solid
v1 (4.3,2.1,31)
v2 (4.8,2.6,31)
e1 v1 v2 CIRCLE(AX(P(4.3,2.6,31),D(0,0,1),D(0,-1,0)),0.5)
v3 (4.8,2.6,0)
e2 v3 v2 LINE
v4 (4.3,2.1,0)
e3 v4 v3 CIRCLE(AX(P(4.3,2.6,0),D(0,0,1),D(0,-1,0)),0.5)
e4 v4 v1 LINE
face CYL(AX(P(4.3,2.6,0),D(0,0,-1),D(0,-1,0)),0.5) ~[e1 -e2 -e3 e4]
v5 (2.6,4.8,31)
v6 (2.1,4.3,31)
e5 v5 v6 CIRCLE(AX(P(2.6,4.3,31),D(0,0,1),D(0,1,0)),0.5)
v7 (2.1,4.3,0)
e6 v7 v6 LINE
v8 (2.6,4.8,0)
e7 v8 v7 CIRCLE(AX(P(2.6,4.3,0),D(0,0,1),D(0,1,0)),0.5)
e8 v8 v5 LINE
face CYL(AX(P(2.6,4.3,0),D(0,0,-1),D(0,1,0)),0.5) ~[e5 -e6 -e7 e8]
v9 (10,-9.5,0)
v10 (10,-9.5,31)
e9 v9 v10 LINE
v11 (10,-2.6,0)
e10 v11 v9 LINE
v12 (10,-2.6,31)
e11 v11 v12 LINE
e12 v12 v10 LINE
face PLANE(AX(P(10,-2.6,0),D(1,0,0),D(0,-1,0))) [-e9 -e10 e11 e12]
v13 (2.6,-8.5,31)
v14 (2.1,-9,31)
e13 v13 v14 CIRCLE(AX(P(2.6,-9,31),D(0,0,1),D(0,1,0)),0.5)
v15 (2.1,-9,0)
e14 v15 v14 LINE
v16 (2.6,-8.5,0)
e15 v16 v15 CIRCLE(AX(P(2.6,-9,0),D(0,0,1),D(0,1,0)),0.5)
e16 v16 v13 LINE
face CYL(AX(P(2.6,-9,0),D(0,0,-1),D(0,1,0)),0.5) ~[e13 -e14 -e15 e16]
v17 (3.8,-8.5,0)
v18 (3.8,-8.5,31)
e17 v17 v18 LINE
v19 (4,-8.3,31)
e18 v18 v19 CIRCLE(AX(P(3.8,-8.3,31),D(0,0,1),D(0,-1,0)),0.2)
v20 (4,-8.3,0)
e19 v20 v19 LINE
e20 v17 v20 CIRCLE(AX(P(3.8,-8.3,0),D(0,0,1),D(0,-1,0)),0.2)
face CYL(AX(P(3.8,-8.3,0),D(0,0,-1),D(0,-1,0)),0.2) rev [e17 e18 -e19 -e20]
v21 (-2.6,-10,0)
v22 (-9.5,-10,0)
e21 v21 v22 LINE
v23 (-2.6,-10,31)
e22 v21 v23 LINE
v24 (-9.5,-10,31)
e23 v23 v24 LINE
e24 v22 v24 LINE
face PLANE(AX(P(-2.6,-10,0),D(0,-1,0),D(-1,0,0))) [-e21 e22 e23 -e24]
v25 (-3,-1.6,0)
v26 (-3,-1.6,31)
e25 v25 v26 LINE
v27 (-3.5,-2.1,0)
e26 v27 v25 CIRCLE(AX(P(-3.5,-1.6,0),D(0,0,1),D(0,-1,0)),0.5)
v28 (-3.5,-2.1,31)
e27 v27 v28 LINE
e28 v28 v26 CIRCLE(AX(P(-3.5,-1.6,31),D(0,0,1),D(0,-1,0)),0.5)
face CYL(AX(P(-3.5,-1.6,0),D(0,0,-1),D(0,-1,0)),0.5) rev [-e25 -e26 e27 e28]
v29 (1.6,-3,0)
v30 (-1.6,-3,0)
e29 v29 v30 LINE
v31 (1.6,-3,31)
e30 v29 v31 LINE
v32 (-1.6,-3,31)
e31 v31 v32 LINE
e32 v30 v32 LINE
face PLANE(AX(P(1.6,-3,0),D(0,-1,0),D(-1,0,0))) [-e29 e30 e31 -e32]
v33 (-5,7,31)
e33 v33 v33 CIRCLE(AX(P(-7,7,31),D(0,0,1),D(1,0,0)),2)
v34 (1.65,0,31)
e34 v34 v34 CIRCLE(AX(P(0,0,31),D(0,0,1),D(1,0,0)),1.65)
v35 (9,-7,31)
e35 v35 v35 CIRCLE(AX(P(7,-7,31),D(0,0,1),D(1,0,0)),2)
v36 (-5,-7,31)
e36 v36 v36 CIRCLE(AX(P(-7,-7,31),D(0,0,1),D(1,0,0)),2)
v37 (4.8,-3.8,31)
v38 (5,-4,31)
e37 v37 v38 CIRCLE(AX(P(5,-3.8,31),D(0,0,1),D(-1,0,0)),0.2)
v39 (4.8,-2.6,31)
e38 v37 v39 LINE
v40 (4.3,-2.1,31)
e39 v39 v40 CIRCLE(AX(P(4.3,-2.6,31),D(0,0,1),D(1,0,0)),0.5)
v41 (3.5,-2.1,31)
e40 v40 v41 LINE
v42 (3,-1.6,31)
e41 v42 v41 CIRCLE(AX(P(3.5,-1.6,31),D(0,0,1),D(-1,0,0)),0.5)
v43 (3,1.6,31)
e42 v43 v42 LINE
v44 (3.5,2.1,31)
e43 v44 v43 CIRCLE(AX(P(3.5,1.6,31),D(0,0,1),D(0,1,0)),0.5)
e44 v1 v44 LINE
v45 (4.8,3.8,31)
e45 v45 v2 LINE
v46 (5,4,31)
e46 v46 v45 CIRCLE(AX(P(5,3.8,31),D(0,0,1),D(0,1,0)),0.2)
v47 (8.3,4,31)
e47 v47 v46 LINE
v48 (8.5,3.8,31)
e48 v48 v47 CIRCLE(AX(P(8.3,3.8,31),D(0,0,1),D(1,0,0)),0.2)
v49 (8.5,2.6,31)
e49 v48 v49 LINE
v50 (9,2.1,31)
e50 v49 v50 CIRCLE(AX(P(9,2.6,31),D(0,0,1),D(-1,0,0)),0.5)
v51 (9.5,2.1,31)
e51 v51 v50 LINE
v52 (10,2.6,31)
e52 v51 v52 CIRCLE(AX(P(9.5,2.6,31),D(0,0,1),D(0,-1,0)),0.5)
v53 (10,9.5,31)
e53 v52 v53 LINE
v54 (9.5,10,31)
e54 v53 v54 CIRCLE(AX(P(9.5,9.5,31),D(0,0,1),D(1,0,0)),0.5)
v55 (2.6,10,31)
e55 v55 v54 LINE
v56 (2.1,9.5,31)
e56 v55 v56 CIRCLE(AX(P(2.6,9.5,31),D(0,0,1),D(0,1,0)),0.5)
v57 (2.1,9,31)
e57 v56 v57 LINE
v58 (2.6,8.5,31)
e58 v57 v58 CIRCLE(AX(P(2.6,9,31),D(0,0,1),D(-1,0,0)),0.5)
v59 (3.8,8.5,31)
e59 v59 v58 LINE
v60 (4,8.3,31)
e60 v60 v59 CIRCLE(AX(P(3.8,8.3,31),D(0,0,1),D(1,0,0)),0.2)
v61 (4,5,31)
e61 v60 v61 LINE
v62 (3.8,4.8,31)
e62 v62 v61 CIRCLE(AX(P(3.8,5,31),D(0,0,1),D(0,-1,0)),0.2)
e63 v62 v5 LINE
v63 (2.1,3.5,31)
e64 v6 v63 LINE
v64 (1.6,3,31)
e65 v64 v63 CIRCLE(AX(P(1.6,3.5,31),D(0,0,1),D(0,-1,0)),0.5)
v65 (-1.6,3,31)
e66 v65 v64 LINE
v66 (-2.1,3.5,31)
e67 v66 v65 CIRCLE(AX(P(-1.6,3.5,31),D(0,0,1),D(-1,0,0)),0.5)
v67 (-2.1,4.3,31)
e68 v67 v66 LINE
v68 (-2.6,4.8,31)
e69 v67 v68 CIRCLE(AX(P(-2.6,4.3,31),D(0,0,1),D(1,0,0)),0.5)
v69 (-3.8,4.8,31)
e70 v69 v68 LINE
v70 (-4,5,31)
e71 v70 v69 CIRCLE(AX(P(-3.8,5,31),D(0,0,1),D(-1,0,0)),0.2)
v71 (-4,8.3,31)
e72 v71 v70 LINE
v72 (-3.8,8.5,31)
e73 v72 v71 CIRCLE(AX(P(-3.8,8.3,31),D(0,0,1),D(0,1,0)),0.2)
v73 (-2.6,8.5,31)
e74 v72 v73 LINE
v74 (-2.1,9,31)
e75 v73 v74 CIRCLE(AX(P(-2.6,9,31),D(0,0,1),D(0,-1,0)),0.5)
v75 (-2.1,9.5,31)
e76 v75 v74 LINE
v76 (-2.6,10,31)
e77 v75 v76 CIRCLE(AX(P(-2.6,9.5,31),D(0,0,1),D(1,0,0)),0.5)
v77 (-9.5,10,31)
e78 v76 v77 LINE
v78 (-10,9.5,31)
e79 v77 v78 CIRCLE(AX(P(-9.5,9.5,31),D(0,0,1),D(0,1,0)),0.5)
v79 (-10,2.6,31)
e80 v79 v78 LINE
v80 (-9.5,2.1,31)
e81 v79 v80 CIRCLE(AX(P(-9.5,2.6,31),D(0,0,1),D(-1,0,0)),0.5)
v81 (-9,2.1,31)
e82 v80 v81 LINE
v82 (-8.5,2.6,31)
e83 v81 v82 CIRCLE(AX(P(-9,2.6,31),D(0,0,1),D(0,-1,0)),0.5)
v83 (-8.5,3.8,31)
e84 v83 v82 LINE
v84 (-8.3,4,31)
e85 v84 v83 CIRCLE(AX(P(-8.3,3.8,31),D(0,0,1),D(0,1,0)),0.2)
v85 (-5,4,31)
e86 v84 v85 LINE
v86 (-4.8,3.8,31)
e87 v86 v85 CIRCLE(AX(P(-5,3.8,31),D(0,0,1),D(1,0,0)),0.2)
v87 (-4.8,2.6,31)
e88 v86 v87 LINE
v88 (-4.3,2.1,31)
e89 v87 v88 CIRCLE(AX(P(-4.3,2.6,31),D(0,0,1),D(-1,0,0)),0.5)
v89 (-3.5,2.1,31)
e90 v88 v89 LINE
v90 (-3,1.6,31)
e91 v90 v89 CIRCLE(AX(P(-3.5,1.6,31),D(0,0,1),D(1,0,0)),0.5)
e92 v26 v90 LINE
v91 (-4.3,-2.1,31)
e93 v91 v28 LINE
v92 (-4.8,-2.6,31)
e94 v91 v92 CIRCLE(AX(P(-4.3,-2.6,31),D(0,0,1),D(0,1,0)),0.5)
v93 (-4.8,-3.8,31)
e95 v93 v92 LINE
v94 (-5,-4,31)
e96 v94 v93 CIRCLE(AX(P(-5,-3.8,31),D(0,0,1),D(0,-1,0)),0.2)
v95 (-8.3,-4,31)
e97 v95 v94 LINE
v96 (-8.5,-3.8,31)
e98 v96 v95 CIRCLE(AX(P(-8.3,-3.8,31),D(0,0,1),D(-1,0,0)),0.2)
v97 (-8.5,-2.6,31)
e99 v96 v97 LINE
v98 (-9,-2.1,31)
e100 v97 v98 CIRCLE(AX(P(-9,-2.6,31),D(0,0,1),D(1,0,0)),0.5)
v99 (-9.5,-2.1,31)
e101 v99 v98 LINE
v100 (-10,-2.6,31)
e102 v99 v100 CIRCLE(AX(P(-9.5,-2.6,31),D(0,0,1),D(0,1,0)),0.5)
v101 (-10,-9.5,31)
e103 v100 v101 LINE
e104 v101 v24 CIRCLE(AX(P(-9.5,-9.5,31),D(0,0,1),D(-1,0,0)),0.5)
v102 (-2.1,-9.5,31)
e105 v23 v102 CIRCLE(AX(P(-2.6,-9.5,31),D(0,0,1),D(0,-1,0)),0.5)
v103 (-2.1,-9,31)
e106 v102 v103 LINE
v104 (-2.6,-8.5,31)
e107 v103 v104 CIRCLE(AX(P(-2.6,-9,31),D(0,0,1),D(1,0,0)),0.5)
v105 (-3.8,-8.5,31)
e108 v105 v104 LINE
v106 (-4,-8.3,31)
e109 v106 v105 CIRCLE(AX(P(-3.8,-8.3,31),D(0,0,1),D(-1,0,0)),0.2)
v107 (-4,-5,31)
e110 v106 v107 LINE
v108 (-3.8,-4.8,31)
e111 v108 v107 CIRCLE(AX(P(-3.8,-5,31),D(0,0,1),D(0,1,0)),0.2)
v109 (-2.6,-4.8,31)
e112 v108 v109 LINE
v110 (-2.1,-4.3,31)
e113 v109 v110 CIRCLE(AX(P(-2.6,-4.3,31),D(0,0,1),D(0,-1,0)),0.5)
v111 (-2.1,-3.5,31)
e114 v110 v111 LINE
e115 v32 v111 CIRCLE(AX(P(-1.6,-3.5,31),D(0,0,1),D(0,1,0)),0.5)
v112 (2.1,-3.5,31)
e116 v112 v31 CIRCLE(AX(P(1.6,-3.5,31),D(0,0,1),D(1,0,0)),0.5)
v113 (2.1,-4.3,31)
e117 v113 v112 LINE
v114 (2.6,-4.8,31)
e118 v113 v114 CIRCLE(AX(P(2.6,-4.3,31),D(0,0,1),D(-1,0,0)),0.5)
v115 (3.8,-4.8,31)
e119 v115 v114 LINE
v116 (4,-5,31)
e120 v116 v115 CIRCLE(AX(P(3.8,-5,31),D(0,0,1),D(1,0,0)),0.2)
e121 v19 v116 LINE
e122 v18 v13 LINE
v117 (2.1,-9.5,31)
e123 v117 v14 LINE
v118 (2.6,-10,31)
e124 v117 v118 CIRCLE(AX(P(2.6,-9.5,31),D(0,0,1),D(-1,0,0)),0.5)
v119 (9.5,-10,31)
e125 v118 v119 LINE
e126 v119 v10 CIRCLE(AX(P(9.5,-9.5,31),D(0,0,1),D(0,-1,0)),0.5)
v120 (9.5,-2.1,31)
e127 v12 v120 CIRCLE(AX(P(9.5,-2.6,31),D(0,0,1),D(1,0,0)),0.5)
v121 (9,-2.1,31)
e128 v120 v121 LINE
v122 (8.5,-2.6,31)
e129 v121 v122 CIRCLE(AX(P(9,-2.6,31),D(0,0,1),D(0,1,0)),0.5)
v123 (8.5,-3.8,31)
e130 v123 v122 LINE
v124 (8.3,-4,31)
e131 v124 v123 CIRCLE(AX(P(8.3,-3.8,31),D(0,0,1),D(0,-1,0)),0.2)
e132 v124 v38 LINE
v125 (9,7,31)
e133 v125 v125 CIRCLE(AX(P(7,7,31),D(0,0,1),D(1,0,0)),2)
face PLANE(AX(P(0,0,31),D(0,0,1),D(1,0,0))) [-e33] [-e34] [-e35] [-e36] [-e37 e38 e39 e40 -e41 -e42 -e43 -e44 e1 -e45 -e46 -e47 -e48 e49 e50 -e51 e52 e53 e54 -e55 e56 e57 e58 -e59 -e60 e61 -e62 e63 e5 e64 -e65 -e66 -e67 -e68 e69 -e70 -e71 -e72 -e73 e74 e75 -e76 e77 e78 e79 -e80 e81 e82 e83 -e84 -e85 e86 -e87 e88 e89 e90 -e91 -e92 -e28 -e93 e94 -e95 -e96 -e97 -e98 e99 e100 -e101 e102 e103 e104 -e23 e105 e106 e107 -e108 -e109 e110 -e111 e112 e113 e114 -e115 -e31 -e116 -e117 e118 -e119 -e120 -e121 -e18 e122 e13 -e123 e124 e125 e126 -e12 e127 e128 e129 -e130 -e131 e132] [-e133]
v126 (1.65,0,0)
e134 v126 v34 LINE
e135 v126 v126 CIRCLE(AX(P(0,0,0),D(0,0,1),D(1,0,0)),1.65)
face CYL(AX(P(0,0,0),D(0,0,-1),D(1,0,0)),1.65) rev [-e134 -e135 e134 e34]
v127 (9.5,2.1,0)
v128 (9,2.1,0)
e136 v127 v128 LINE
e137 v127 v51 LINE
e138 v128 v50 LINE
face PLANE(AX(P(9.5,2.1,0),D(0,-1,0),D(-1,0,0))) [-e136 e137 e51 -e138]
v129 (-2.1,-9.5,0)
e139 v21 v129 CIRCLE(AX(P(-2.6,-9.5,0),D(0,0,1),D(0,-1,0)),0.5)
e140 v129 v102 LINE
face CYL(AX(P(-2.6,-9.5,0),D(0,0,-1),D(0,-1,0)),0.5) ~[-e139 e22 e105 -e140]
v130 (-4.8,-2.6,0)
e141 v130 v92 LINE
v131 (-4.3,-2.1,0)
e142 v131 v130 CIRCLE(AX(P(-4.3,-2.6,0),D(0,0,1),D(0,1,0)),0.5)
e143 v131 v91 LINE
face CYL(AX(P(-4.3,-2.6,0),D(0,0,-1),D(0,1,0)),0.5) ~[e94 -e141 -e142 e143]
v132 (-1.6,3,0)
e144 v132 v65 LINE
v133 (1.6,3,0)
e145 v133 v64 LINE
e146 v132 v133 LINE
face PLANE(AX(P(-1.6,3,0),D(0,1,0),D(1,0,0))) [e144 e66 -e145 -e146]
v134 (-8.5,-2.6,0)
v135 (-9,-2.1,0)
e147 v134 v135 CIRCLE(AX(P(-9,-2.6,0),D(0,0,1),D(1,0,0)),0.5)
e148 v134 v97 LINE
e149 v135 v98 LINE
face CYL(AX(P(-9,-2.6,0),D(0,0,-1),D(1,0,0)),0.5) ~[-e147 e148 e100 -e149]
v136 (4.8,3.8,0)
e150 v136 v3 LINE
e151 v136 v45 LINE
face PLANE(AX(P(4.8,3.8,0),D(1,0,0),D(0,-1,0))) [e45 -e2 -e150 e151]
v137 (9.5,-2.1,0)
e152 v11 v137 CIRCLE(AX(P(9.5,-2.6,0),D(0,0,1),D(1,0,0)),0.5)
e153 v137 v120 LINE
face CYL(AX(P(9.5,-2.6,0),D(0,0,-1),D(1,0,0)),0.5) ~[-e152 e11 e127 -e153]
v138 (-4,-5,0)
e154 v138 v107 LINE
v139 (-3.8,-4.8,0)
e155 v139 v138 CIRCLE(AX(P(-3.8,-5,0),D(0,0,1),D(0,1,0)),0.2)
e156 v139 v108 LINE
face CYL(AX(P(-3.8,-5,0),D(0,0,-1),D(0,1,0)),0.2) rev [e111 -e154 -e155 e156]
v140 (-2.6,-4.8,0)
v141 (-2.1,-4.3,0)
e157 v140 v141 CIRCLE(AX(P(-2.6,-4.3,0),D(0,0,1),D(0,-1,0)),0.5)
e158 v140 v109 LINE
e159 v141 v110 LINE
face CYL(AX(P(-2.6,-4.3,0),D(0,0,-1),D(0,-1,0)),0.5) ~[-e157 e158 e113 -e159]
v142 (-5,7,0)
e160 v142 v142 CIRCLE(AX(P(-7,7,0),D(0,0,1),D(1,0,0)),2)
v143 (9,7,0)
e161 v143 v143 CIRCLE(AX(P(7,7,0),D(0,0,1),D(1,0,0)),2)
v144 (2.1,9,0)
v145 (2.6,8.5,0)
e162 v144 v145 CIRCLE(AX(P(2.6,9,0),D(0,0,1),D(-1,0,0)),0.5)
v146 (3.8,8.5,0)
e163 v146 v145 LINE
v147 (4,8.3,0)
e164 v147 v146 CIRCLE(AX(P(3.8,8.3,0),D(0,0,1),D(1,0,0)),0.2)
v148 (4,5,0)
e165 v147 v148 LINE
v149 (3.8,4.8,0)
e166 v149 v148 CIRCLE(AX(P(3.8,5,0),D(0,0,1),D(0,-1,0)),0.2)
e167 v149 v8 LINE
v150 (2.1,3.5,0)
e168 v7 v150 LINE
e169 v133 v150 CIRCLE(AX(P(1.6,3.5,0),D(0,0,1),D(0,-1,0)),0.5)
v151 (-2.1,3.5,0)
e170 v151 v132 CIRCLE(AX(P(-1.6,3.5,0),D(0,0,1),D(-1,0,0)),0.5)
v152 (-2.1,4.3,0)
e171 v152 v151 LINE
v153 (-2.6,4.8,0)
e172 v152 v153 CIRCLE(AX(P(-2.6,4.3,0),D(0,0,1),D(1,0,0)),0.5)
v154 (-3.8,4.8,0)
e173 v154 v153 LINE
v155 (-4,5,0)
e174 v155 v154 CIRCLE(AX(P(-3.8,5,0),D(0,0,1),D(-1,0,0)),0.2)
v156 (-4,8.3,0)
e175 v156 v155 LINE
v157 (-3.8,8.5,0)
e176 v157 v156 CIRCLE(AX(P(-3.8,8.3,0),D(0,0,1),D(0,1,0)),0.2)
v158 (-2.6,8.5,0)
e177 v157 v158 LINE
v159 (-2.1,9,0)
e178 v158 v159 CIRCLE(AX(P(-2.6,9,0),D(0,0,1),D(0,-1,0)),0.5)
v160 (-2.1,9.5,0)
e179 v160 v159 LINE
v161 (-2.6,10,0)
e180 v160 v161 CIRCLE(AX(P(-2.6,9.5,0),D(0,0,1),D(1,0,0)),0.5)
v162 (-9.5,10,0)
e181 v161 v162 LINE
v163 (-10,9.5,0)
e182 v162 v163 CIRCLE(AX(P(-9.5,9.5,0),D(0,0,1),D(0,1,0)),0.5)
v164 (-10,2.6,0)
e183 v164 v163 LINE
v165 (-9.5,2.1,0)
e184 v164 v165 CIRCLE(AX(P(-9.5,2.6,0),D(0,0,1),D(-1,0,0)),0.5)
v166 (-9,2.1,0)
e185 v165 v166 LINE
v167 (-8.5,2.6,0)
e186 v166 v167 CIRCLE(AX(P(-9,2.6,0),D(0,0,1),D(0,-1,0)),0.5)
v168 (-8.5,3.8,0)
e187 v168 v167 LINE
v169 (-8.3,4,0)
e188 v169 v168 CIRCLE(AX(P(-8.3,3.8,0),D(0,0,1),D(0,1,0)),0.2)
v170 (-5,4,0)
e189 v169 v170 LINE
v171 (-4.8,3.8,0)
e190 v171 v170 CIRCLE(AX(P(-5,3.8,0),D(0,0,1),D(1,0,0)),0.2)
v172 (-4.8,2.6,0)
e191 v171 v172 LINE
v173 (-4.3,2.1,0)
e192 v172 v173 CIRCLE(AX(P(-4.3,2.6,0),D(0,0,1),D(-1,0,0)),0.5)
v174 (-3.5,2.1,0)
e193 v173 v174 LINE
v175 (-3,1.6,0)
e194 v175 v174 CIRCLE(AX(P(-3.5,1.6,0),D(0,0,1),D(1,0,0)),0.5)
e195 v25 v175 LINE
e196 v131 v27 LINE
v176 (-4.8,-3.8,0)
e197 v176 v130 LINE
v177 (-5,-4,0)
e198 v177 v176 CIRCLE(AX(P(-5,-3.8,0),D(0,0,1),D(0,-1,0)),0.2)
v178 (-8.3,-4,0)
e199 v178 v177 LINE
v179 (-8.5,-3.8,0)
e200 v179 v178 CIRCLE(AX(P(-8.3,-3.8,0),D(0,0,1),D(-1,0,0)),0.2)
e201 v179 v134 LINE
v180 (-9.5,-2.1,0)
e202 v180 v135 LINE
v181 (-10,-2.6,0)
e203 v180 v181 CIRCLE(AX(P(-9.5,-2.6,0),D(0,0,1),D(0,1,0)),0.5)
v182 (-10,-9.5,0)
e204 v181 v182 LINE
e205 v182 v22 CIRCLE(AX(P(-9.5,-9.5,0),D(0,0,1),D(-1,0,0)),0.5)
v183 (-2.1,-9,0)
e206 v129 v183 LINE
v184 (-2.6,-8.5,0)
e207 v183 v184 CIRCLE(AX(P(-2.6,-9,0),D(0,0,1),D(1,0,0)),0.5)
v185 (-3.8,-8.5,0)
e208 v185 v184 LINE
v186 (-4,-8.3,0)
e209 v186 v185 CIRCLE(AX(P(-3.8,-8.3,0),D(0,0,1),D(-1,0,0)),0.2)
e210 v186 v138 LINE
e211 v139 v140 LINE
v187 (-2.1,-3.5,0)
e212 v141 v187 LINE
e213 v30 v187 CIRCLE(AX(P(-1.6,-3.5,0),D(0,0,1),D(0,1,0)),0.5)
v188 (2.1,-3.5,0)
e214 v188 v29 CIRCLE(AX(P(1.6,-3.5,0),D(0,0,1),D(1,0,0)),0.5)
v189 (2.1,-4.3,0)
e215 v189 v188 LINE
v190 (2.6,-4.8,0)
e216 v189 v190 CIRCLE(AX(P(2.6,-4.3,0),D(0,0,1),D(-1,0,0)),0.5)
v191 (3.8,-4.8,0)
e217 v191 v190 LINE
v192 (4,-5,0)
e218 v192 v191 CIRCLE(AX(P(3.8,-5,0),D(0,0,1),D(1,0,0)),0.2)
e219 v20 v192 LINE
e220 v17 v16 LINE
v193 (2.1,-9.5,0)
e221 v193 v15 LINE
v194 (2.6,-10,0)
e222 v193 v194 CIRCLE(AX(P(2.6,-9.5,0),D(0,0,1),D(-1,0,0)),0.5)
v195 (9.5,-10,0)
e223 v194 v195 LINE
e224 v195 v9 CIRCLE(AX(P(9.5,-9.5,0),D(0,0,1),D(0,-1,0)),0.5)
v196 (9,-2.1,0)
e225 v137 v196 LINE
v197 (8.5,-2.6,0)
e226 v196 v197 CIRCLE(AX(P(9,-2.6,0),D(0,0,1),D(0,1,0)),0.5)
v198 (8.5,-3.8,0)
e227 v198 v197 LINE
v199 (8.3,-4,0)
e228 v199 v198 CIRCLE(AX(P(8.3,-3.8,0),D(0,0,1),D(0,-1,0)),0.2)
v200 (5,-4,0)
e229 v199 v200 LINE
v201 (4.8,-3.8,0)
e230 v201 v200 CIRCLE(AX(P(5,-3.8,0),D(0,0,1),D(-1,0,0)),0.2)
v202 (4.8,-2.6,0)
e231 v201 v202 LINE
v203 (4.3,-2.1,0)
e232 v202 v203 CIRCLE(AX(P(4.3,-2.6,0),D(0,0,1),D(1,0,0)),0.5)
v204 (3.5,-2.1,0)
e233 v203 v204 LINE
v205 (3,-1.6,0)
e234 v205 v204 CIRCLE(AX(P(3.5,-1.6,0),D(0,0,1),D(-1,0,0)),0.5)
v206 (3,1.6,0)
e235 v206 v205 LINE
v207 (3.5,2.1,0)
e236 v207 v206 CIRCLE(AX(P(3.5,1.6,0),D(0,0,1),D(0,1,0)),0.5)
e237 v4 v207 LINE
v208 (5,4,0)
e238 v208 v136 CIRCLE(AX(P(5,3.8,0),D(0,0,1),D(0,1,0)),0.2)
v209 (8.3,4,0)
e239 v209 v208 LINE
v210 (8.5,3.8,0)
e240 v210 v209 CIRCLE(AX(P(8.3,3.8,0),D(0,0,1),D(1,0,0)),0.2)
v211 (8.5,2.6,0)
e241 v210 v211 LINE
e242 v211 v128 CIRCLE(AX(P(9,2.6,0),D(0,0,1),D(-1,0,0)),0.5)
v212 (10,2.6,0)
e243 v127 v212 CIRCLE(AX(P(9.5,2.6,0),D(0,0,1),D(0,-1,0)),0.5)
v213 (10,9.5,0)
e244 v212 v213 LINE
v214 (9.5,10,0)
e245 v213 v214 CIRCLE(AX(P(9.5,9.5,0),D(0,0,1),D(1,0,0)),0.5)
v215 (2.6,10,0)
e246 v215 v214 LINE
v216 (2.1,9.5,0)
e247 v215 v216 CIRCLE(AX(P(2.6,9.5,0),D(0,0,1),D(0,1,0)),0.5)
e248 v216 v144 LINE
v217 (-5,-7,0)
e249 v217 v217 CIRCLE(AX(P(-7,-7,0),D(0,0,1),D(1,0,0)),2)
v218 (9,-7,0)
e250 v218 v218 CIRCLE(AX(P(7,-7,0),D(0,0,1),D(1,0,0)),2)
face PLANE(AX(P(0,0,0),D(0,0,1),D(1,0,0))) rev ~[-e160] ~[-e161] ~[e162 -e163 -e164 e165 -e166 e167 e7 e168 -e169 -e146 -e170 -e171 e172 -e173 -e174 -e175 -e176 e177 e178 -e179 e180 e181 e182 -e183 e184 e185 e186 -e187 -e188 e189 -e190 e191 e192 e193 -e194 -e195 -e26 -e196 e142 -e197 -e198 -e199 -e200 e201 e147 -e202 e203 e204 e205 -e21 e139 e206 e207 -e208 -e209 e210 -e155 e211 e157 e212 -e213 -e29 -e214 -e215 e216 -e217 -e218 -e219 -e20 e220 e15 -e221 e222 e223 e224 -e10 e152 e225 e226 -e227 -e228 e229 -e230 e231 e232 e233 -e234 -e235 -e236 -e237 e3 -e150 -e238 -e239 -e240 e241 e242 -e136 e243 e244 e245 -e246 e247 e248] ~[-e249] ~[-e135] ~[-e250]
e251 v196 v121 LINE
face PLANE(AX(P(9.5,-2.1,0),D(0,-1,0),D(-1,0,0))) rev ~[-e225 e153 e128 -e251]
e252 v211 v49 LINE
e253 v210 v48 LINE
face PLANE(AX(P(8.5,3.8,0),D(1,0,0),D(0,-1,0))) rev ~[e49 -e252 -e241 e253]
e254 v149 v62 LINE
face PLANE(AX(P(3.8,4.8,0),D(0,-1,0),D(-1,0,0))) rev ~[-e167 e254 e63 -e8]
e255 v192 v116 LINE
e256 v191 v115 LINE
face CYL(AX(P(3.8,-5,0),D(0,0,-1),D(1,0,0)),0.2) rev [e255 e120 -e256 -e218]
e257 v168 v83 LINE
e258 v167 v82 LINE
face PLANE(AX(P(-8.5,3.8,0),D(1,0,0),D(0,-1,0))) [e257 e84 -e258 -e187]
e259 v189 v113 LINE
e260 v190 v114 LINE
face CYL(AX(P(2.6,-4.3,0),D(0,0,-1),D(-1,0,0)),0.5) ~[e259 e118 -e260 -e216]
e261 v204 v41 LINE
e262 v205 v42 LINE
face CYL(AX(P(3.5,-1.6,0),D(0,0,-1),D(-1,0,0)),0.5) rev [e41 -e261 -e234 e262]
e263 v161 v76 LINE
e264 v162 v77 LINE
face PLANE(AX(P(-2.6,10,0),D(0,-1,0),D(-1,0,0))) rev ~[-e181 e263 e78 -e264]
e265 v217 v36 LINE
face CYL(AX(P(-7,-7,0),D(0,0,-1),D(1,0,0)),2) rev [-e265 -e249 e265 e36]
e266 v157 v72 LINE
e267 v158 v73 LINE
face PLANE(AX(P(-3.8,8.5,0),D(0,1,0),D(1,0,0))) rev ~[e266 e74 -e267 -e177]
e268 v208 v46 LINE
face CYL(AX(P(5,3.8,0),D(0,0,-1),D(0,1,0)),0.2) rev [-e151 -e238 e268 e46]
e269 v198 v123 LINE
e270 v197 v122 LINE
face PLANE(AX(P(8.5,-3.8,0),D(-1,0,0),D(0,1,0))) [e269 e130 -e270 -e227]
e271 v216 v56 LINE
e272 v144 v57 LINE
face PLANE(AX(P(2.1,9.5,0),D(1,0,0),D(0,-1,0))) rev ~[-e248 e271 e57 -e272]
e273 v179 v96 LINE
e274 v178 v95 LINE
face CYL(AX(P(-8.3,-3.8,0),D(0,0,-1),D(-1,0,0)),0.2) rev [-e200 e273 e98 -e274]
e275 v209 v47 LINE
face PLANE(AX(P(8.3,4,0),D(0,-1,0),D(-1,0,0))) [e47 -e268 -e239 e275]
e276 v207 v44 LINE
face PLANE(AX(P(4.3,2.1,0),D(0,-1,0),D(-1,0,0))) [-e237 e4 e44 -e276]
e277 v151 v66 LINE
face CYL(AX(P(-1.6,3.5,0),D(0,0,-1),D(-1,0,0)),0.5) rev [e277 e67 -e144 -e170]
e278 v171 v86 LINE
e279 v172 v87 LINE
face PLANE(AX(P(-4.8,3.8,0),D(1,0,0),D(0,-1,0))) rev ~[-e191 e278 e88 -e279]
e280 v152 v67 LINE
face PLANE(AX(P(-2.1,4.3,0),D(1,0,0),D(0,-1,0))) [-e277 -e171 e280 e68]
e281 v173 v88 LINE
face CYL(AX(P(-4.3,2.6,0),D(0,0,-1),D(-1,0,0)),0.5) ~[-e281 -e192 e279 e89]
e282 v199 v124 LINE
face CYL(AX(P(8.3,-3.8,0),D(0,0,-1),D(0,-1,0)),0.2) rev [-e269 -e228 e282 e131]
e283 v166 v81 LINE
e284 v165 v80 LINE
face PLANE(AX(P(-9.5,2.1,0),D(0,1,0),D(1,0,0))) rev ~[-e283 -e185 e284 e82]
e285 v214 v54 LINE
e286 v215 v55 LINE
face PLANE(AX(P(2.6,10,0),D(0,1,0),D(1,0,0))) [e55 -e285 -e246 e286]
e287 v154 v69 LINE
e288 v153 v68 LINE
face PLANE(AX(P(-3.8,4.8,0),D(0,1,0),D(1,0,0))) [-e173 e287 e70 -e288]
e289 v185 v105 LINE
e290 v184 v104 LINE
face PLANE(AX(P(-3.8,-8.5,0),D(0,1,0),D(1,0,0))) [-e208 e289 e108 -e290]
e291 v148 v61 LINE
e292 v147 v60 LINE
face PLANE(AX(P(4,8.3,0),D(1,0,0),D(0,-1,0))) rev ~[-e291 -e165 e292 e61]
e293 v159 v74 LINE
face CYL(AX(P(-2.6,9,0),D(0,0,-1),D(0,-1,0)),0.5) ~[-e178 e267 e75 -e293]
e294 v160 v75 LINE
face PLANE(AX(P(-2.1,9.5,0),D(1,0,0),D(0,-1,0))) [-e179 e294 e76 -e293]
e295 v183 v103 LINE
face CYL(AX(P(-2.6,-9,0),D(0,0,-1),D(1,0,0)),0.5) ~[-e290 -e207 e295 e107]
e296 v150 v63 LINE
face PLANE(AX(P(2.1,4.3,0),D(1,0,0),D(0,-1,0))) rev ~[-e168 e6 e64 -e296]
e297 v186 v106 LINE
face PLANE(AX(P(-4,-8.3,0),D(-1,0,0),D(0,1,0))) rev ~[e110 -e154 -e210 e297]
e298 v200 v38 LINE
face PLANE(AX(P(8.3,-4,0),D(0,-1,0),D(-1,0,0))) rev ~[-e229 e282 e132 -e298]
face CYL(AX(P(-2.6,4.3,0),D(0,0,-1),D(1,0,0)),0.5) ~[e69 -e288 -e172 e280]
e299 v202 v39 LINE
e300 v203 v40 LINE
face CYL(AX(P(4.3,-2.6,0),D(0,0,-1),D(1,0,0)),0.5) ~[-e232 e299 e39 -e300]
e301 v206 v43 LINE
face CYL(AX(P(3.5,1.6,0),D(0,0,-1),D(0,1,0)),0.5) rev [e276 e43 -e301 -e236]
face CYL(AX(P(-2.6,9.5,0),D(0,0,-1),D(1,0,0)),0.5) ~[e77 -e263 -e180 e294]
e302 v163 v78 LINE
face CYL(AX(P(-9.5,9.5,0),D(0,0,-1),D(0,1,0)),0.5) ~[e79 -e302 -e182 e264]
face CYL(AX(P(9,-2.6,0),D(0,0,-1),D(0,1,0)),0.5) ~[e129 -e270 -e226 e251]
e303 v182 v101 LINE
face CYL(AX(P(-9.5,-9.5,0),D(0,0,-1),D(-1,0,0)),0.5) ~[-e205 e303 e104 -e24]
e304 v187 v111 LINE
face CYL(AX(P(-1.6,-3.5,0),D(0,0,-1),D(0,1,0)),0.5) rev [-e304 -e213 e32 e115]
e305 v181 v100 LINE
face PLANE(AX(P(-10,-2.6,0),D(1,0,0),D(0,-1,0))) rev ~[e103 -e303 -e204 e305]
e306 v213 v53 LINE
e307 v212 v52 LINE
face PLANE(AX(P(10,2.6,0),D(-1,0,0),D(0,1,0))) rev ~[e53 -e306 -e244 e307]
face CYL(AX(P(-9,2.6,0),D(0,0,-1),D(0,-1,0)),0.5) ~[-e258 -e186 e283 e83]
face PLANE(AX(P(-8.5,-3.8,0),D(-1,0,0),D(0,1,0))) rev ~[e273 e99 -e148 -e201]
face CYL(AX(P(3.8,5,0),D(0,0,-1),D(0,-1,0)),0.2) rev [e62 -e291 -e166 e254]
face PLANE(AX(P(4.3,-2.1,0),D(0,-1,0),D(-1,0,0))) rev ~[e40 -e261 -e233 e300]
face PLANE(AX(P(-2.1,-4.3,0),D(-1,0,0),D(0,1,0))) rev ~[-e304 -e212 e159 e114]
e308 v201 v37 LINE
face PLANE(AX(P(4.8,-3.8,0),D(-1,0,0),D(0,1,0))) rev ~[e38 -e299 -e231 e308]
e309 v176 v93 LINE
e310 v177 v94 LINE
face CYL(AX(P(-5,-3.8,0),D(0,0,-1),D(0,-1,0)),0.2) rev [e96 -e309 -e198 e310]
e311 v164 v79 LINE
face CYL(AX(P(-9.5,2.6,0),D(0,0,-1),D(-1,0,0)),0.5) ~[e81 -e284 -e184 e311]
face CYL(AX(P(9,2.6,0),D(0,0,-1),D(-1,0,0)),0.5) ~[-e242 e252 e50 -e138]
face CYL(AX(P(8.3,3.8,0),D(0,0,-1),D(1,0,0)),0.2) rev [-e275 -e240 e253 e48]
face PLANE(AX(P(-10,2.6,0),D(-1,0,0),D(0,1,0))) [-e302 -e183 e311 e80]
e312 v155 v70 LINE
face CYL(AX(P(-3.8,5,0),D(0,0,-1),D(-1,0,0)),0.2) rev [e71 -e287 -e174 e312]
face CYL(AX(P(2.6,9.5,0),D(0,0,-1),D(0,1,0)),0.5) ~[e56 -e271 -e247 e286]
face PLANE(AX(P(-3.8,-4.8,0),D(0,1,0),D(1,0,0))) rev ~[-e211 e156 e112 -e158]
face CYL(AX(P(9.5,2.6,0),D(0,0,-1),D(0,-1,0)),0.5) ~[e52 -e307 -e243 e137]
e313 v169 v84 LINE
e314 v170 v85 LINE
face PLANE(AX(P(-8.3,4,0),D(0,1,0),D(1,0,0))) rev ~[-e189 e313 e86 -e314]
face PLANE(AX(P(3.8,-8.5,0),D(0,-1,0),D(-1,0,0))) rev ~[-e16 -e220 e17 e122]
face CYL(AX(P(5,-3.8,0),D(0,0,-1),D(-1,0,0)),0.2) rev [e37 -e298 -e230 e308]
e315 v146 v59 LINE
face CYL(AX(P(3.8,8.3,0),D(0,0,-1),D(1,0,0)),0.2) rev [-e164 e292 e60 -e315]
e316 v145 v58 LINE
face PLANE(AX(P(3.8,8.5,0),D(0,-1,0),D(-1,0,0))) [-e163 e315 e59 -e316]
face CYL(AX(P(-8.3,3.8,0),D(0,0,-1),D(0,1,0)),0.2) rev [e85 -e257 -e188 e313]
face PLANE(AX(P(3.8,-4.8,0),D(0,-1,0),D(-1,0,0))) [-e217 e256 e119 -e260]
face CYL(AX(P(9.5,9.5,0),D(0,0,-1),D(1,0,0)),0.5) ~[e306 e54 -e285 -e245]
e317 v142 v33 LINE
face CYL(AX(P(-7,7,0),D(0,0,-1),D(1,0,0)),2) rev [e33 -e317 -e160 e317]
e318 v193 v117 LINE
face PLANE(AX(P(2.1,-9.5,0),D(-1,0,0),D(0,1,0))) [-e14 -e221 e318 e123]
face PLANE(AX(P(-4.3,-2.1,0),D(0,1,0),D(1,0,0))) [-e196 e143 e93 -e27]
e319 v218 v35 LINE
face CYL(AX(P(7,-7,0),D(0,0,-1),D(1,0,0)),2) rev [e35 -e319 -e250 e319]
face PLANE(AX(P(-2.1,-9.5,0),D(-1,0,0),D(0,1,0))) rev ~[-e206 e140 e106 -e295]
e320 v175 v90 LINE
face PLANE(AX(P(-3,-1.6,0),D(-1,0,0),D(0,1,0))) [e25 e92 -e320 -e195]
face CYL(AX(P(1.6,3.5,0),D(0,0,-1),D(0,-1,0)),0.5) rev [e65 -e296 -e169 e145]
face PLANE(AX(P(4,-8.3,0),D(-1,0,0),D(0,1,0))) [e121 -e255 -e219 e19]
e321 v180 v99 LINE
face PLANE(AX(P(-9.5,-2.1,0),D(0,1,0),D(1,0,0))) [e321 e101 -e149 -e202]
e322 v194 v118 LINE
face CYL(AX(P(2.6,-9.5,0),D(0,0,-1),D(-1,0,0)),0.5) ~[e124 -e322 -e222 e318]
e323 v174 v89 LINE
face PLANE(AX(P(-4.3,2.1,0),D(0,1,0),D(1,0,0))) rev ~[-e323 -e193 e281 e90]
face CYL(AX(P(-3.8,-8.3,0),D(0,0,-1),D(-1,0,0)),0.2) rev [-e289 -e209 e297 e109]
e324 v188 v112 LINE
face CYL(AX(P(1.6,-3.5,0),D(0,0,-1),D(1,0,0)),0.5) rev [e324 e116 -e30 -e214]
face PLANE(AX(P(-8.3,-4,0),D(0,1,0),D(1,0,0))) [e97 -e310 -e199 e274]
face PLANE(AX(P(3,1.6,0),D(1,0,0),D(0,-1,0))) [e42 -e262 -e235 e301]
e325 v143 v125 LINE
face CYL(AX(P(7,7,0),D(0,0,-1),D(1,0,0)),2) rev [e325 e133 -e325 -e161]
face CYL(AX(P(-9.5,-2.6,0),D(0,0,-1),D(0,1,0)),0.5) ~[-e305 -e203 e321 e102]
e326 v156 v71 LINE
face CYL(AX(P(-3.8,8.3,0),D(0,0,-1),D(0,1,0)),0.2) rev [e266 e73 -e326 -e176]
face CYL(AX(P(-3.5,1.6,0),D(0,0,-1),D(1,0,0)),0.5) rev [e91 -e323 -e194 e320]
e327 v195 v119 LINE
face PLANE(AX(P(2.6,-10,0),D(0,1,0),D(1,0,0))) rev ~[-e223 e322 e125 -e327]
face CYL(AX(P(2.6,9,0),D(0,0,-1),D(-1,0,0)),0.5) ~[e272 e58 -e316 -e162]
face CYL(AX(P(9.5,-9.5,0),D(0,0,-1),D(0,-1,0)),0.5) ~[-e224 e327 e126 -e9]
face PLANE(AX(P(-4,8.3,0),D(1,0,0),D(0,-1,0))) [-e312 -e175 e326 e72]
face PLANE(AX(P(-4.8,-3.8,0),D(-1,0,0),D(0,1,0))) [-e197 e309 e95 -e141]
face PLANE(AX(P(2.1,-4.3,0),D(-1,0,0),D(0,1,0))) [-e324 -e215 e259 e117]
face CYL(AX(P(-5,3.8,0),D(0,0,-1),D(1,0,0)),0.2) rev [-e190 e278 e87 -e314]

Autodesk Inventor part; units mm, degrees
ref_plane "YZ Plane" through (0, 0, 0) normal (1, 0, 0) x (0, 1, 0)
ref_plane "XZ Plane" through (0, 0, 0) normal (0, 1, 0) x (-1, 0, 0)
ref_plane "XY Plane" through (0, 0, 0) normal (0, 0, 1) x (1, 0, 0)
sketch "BaseS" plane through (0, 0, 0) normal (0, 0, 1) x (1, 0, 0)
  line L0 (8.5, -3.8) -> (8.5, -2.6)
  line L1 (4, -8.3) -> (4, -5)
  circle A0 centre (7, -7) radius 2
  line L2 (10, -2.6) -> (10, -9.5)
  line L3 (2.6, -10) -> (9.5, -10)
  line L4 (2.1, -9.5) -> (2.1, -9)
  line L5 (8.5, -2.6) -> (8.5, -3.8)
  line L6 (3.8, -4.8) -> (2.6, -4.8)
  line L7 (4.8, -3.8) -> (4.8, -2.6)
  arc A1 (2.1, -4.3) -> (2.6, -4.8) centre (2.6, -4.3) ccw
  arc A2 (2.6, -8.5) -> (2.1, -9) centre (2.6, -9) ccw
  arc A3 (3.8, -8.5) -> (4, -8.3) centre (3.8, -8.3) ccw
  arc A4 (4, -5) -> (3.8, -4.8) centre (3.8, -5) ccw
  arc A5 (2.1, -3.5) -> (1.6, -3) centre (1.6, -3.5) ccw
  arc A6 (2.1, -9.5) -> (2.6, -10) centre (2.6, -9.5) ccw
  arc A7 (9.5, -10) -> (10, -9.5) centre (9.5, -9.5) ccw
  arc A8 (10, -2.6) -> (9.5, -2.1) centre (9.5, -2.6) ccw
  arc A9 (9, -2.1) -> (8.5, -2.6) centre (9, -2.6) ccw
  arc A10 (8.3, -4) -> (8.5, -3.8) centre (8.3, -3.8) ccw
  arc A11 (4.8, -3.8) -> (5, -4) centre (5, -3.8) ccw
  line L8 (4.3, -2.1) -> (3.5, -2.1)
  arc A12 (4.8, -2.6) -> (4.3, -2.1) centre (4.3, -2.6) ccw
  arc A13 (3, -1.6) -> (3.5, -2.1) centre (3.5, -1.6) ccw
  line L9 (2.1, -4.3) -> (2.1, -3.5)
  line L10 (3.8, -8.5) -> (2.6, -8.5)
  line L11 (9.5, -2.1) -> (9, -2.1)
  line L12 (8.3, -4) -> (5, -4)
  circle A14 centre (0, 0) radius 1.65
  arc A15 (8.5, 2.6) -> (9, 2.1) centre (9, 2.6) ccw
  line L13 (8.5, 3.8) -> (8.5, 2.6)
  arc A16 (8.5, 3.8) -> (8.3, 4) centre (8.3, 3.8) ccw
  line L14 (8.3, 4) -> (5, 4)
  line L15 (10, 2.6) -> (10, 9.5)
  arc A17 (10, 9.5) -> (9.5, 10) centre (9.5, 9.5) ccw
  circle A18 centre (7, 7) radius 2
  line L16 (4, 8.3) -> (4, 5)
  line L17 (2.6, 10) -> (9.5, 10)
  line L18 (9.5, 2.1) -> (9, 2.1)
  arc A19 (9.5, 2.1) -> (10, 2.6) centre (9.5, 2.6) ccw
  line L19 (3.8, 8.5) -> (2.6, 8.5)
  line L20 (4.8, 3.8) -> (4.8, 2.6)
  arc A20 (4.3, 2.1) -> (4.8, 2.6) centre (4.3, 2.6) ccw
  line L21 (2.6, 8.5) -> (3.8, 8.5)
  arc A21 (4, 8.3) -> (3.8, 8.5) centre (3.8, 8.3) ccw
  arc A22 (2.1, 9) -> (2.6, 8.5) centre (2.6, 9) ccw
  arc A23 (2.6, 10) -> (2.1, 9.5) centre (2.6, 9.5) ccw
  line L22 (2.1, 9.5) -> (2.1, 9)
  arc A24 (1.6, 3) -> (2.1, 3.5) centre (1.6, 3.5) ccw
  line L23 (3.8, 4.8) -> (2.6, 4.8)
  arc A25 (5, 4) -> (4.8, 3.8) centre (5, 3.8) ccw
  arc A26 (3.8, 4.8) -> (4, 5) centre (3.8, 5) ccw
  line L24 (4.3, 2.1) -> (3.5, 2.1)
  arc A27 (2.6, 4.8) -> (2.1, 4.3) centre (2.6, 4.3) ccw
  line L25 (2.1, 4.3) -> (2.1, 3.5)
  arc A28 (3.5, 2.1) -> (3, 1.6) centre (3.5, 1.6) ccw
  arc A29 (-2.6, 8.5) -> (-2.1, 9) centre (-2.6, 9) ccw
  line L26 (-3.8, 8.5) -> (-2.6, 8.5)
  arc A30 (-3.8, 8.5) -> (-4, 8.3) centre (-3.8, 8.3) ccw
  line L27 (-4, 8.3) -> (-4, 5)
  line L28 (-2.6, 10) -> (-9.5, 10)
  arc A31 (-9.5, 10) -> (-10, 9.5) centre (-9.5, 9.5) ccw
  circle A32 centre (-7, 7) radius 2
  line L29 (-8.3, 4) -> (-5, 4)
  line L30 (-10, 2.6) -> (-10, 9.5)
  line L31 (-2.1, 9.5) -> (-2.1, 9)
  arc A33 (-2.1, 9.5) -> (-2.6, 10) centre (-2.6, 9.5) ccw
  line L32 (-8.5, 3.8) -> (-8.5, 2.6)
  line L33 (-3.8, 4.8) -> (-2.6, 4.8)
  arc A34 (-2.1, 4.3) -> (-2.6, 4.8) centre (-2.6, 4.3) ccw
  line L34 (-8.5, 2.6) -> (-8.5, 3.8)
  arc A35 (-8.3, 4) -> (-8.5, 3.8) centre (-8.3, 3.8) ccw
  arc A36 (-9, 2.1) -> (-8.5, 2.6) centre (-9, 2.6) ccw
  arc A37 (-10, 2.6) -> (-9.5, 2.1) centre (-9.5, 2.6) ccw
  line L35 (-9.5, 2.1) -> (-9, 2.1)
  arc A38 (-3, 1.6) -> (-3.5, 2.1) centre (-3.5, 1.6) ccw
  line L36 (-4.8, 3.8) -> (-4.8, 2.6)
  arc A39 (-4, 5) -> (-3.8, 4.8) centre (-3.8, 5) ccw
  arc A40 (-4.8, 3.8) -> (-5, 4) centre (-5, 3.8) ccw
  line L37 (-2.1, 4.3) -> (-2.1, 3.5)
  arc A41 (-4.8, 2.6) -> (-4.3, 2.1) centre (-4.3, 2.6) ccw
  line L38 (-4.3, 2.1) -> (-3.5, 2.1)
  arc A42 (-2.1, 3.5) -> (-1.6, 3) centre (-1.6, 3.5) ccw
  arc A43 (-8.5, -2.6) -> (-9, -2.1) centre (-9, -2.6) ccw
  line L39 (-8.5, -3.8) -> (-8.5, -2.6)
  arc A44 (-8.5, -3.8) -> (-8.3, -4) centre (-8.3, -3.8) ccw
  line L40 (-8.3, -4) -> (-5, -4)
  line L41 (-10, -2.6) -> (-10, -9.5)
  arc A45 (-10, -9.5) -> (-9.5, -10) centre (-9.5, -9.5) ccw
  circle A46 centre (-7, -7) radius 2
  line L42 (-4, -8.3) -> (-4, -5)
  line L43 (-2.6, -10) -> (-9.5, -10)
  line L44 (-9.5, -2.1) -> (-9, -2.1)
  arc A47 (-9.5, -2.1) -> (-10, -2.6) centre (-9.5, -2.6) ccw
  line L45 (-3.8, -8.5) -> (-2.6, -8.5)
  line L46 (-4.8, -3.8) -> (-4.8, -2.6)
  arc A48 (-4.3, -2.1) -> (-4.8, -2.6) centre (-4.3, -2.6) ccw
  line L47 (-2.6, -8.5) -> (-3.8, -8.5)
  arc A49 (-4, -8.3) -> (-3.8, -8.5) centre (-3.8, -8.3) ccw
  arc A50 (-2.1, -9) -> (-2.6, -8.5) centre (-2.6, -9) ccw
  arc A51 (-2.6, -10) -> (-2.1, -9.5) centre (-2.6, -9.5) ccw
  line L48 (-2.1, -9.5) -> (-2.1, -9)
  arc A52 (-1.6, -3) -> (-2.1, -3.5) centre (-1.6, -3.5) ccw
  line L49 (-3.8, -4.8) -> (-2.6, -4.8)
  arc A53 (-5, -4) -> (-4.8, -3.8) centre (-5, -3.8) ccw
  arc A54 (-3.8, -4.8) -> (-4, -5) centre (-3.8, -5) ccw
  line L50 (-4.3, -2.1) -> (-3.5, -2.1)
  arc A55 (-2.6, -4.8) -> (-2.1, -4.3) centre (-2.6, -4.3) ccw
  line L51 (-2.1, -4.3) -> (-2.1, -3.5)
  arc A56 (-3.5, -2.1) -> (-3, -1.6) centre (-3.5, -1.6) ccw
  line L52 (1.6, -3) -> (-1.6, -3)
  line L53 (-3, -1.6) -> (-3, 1.6)
  line L54 (-1.6, 3) -> (1.6, 3)
  line L55 (3, 1.6) -> (3, -1.6)
  point P0 (2.1, -10)
  point P1 (10, 2.1)
  point P2 (-2.1, 10)
  point P3 (-10, -2.1)
  dimension "d2" = 4
  dimension "d3" = 3.7
  dimension "d4" = 0.5
  dimension "d5" = 0.5
  dimension "d6" = 0.2
  dimension "d7" = 0.5
  dimension "d8" = 0.5
  dimension "d9" = 0.5
  dimension "d10" = 0.2
  dimension "d11" = 0.5
  dimension "d12" = 1.5
  dimension "d13" = 3.7
  dimension "d14" = 1.5
  dimension "d15" = 3.3
  dimension "d16" = 10
  dimension "d17" = 2.1
  dimension "d18" = 2.1
  dimension "d19" = 1.9
  dimension "d20" = 7
  dimension "d21" = 2.1
  dimension "d22" = 2.1
  dimension "d23" = 1.9
  dimension "d24" = 7
  dimension "d25" = 10
  dimension "d26" = 360
  dimension "d27" = 3
extrude "押し出し1" add sketch "BaseS" along normal blind 31
properties part number "S31" material "アルミニウム 6061"
